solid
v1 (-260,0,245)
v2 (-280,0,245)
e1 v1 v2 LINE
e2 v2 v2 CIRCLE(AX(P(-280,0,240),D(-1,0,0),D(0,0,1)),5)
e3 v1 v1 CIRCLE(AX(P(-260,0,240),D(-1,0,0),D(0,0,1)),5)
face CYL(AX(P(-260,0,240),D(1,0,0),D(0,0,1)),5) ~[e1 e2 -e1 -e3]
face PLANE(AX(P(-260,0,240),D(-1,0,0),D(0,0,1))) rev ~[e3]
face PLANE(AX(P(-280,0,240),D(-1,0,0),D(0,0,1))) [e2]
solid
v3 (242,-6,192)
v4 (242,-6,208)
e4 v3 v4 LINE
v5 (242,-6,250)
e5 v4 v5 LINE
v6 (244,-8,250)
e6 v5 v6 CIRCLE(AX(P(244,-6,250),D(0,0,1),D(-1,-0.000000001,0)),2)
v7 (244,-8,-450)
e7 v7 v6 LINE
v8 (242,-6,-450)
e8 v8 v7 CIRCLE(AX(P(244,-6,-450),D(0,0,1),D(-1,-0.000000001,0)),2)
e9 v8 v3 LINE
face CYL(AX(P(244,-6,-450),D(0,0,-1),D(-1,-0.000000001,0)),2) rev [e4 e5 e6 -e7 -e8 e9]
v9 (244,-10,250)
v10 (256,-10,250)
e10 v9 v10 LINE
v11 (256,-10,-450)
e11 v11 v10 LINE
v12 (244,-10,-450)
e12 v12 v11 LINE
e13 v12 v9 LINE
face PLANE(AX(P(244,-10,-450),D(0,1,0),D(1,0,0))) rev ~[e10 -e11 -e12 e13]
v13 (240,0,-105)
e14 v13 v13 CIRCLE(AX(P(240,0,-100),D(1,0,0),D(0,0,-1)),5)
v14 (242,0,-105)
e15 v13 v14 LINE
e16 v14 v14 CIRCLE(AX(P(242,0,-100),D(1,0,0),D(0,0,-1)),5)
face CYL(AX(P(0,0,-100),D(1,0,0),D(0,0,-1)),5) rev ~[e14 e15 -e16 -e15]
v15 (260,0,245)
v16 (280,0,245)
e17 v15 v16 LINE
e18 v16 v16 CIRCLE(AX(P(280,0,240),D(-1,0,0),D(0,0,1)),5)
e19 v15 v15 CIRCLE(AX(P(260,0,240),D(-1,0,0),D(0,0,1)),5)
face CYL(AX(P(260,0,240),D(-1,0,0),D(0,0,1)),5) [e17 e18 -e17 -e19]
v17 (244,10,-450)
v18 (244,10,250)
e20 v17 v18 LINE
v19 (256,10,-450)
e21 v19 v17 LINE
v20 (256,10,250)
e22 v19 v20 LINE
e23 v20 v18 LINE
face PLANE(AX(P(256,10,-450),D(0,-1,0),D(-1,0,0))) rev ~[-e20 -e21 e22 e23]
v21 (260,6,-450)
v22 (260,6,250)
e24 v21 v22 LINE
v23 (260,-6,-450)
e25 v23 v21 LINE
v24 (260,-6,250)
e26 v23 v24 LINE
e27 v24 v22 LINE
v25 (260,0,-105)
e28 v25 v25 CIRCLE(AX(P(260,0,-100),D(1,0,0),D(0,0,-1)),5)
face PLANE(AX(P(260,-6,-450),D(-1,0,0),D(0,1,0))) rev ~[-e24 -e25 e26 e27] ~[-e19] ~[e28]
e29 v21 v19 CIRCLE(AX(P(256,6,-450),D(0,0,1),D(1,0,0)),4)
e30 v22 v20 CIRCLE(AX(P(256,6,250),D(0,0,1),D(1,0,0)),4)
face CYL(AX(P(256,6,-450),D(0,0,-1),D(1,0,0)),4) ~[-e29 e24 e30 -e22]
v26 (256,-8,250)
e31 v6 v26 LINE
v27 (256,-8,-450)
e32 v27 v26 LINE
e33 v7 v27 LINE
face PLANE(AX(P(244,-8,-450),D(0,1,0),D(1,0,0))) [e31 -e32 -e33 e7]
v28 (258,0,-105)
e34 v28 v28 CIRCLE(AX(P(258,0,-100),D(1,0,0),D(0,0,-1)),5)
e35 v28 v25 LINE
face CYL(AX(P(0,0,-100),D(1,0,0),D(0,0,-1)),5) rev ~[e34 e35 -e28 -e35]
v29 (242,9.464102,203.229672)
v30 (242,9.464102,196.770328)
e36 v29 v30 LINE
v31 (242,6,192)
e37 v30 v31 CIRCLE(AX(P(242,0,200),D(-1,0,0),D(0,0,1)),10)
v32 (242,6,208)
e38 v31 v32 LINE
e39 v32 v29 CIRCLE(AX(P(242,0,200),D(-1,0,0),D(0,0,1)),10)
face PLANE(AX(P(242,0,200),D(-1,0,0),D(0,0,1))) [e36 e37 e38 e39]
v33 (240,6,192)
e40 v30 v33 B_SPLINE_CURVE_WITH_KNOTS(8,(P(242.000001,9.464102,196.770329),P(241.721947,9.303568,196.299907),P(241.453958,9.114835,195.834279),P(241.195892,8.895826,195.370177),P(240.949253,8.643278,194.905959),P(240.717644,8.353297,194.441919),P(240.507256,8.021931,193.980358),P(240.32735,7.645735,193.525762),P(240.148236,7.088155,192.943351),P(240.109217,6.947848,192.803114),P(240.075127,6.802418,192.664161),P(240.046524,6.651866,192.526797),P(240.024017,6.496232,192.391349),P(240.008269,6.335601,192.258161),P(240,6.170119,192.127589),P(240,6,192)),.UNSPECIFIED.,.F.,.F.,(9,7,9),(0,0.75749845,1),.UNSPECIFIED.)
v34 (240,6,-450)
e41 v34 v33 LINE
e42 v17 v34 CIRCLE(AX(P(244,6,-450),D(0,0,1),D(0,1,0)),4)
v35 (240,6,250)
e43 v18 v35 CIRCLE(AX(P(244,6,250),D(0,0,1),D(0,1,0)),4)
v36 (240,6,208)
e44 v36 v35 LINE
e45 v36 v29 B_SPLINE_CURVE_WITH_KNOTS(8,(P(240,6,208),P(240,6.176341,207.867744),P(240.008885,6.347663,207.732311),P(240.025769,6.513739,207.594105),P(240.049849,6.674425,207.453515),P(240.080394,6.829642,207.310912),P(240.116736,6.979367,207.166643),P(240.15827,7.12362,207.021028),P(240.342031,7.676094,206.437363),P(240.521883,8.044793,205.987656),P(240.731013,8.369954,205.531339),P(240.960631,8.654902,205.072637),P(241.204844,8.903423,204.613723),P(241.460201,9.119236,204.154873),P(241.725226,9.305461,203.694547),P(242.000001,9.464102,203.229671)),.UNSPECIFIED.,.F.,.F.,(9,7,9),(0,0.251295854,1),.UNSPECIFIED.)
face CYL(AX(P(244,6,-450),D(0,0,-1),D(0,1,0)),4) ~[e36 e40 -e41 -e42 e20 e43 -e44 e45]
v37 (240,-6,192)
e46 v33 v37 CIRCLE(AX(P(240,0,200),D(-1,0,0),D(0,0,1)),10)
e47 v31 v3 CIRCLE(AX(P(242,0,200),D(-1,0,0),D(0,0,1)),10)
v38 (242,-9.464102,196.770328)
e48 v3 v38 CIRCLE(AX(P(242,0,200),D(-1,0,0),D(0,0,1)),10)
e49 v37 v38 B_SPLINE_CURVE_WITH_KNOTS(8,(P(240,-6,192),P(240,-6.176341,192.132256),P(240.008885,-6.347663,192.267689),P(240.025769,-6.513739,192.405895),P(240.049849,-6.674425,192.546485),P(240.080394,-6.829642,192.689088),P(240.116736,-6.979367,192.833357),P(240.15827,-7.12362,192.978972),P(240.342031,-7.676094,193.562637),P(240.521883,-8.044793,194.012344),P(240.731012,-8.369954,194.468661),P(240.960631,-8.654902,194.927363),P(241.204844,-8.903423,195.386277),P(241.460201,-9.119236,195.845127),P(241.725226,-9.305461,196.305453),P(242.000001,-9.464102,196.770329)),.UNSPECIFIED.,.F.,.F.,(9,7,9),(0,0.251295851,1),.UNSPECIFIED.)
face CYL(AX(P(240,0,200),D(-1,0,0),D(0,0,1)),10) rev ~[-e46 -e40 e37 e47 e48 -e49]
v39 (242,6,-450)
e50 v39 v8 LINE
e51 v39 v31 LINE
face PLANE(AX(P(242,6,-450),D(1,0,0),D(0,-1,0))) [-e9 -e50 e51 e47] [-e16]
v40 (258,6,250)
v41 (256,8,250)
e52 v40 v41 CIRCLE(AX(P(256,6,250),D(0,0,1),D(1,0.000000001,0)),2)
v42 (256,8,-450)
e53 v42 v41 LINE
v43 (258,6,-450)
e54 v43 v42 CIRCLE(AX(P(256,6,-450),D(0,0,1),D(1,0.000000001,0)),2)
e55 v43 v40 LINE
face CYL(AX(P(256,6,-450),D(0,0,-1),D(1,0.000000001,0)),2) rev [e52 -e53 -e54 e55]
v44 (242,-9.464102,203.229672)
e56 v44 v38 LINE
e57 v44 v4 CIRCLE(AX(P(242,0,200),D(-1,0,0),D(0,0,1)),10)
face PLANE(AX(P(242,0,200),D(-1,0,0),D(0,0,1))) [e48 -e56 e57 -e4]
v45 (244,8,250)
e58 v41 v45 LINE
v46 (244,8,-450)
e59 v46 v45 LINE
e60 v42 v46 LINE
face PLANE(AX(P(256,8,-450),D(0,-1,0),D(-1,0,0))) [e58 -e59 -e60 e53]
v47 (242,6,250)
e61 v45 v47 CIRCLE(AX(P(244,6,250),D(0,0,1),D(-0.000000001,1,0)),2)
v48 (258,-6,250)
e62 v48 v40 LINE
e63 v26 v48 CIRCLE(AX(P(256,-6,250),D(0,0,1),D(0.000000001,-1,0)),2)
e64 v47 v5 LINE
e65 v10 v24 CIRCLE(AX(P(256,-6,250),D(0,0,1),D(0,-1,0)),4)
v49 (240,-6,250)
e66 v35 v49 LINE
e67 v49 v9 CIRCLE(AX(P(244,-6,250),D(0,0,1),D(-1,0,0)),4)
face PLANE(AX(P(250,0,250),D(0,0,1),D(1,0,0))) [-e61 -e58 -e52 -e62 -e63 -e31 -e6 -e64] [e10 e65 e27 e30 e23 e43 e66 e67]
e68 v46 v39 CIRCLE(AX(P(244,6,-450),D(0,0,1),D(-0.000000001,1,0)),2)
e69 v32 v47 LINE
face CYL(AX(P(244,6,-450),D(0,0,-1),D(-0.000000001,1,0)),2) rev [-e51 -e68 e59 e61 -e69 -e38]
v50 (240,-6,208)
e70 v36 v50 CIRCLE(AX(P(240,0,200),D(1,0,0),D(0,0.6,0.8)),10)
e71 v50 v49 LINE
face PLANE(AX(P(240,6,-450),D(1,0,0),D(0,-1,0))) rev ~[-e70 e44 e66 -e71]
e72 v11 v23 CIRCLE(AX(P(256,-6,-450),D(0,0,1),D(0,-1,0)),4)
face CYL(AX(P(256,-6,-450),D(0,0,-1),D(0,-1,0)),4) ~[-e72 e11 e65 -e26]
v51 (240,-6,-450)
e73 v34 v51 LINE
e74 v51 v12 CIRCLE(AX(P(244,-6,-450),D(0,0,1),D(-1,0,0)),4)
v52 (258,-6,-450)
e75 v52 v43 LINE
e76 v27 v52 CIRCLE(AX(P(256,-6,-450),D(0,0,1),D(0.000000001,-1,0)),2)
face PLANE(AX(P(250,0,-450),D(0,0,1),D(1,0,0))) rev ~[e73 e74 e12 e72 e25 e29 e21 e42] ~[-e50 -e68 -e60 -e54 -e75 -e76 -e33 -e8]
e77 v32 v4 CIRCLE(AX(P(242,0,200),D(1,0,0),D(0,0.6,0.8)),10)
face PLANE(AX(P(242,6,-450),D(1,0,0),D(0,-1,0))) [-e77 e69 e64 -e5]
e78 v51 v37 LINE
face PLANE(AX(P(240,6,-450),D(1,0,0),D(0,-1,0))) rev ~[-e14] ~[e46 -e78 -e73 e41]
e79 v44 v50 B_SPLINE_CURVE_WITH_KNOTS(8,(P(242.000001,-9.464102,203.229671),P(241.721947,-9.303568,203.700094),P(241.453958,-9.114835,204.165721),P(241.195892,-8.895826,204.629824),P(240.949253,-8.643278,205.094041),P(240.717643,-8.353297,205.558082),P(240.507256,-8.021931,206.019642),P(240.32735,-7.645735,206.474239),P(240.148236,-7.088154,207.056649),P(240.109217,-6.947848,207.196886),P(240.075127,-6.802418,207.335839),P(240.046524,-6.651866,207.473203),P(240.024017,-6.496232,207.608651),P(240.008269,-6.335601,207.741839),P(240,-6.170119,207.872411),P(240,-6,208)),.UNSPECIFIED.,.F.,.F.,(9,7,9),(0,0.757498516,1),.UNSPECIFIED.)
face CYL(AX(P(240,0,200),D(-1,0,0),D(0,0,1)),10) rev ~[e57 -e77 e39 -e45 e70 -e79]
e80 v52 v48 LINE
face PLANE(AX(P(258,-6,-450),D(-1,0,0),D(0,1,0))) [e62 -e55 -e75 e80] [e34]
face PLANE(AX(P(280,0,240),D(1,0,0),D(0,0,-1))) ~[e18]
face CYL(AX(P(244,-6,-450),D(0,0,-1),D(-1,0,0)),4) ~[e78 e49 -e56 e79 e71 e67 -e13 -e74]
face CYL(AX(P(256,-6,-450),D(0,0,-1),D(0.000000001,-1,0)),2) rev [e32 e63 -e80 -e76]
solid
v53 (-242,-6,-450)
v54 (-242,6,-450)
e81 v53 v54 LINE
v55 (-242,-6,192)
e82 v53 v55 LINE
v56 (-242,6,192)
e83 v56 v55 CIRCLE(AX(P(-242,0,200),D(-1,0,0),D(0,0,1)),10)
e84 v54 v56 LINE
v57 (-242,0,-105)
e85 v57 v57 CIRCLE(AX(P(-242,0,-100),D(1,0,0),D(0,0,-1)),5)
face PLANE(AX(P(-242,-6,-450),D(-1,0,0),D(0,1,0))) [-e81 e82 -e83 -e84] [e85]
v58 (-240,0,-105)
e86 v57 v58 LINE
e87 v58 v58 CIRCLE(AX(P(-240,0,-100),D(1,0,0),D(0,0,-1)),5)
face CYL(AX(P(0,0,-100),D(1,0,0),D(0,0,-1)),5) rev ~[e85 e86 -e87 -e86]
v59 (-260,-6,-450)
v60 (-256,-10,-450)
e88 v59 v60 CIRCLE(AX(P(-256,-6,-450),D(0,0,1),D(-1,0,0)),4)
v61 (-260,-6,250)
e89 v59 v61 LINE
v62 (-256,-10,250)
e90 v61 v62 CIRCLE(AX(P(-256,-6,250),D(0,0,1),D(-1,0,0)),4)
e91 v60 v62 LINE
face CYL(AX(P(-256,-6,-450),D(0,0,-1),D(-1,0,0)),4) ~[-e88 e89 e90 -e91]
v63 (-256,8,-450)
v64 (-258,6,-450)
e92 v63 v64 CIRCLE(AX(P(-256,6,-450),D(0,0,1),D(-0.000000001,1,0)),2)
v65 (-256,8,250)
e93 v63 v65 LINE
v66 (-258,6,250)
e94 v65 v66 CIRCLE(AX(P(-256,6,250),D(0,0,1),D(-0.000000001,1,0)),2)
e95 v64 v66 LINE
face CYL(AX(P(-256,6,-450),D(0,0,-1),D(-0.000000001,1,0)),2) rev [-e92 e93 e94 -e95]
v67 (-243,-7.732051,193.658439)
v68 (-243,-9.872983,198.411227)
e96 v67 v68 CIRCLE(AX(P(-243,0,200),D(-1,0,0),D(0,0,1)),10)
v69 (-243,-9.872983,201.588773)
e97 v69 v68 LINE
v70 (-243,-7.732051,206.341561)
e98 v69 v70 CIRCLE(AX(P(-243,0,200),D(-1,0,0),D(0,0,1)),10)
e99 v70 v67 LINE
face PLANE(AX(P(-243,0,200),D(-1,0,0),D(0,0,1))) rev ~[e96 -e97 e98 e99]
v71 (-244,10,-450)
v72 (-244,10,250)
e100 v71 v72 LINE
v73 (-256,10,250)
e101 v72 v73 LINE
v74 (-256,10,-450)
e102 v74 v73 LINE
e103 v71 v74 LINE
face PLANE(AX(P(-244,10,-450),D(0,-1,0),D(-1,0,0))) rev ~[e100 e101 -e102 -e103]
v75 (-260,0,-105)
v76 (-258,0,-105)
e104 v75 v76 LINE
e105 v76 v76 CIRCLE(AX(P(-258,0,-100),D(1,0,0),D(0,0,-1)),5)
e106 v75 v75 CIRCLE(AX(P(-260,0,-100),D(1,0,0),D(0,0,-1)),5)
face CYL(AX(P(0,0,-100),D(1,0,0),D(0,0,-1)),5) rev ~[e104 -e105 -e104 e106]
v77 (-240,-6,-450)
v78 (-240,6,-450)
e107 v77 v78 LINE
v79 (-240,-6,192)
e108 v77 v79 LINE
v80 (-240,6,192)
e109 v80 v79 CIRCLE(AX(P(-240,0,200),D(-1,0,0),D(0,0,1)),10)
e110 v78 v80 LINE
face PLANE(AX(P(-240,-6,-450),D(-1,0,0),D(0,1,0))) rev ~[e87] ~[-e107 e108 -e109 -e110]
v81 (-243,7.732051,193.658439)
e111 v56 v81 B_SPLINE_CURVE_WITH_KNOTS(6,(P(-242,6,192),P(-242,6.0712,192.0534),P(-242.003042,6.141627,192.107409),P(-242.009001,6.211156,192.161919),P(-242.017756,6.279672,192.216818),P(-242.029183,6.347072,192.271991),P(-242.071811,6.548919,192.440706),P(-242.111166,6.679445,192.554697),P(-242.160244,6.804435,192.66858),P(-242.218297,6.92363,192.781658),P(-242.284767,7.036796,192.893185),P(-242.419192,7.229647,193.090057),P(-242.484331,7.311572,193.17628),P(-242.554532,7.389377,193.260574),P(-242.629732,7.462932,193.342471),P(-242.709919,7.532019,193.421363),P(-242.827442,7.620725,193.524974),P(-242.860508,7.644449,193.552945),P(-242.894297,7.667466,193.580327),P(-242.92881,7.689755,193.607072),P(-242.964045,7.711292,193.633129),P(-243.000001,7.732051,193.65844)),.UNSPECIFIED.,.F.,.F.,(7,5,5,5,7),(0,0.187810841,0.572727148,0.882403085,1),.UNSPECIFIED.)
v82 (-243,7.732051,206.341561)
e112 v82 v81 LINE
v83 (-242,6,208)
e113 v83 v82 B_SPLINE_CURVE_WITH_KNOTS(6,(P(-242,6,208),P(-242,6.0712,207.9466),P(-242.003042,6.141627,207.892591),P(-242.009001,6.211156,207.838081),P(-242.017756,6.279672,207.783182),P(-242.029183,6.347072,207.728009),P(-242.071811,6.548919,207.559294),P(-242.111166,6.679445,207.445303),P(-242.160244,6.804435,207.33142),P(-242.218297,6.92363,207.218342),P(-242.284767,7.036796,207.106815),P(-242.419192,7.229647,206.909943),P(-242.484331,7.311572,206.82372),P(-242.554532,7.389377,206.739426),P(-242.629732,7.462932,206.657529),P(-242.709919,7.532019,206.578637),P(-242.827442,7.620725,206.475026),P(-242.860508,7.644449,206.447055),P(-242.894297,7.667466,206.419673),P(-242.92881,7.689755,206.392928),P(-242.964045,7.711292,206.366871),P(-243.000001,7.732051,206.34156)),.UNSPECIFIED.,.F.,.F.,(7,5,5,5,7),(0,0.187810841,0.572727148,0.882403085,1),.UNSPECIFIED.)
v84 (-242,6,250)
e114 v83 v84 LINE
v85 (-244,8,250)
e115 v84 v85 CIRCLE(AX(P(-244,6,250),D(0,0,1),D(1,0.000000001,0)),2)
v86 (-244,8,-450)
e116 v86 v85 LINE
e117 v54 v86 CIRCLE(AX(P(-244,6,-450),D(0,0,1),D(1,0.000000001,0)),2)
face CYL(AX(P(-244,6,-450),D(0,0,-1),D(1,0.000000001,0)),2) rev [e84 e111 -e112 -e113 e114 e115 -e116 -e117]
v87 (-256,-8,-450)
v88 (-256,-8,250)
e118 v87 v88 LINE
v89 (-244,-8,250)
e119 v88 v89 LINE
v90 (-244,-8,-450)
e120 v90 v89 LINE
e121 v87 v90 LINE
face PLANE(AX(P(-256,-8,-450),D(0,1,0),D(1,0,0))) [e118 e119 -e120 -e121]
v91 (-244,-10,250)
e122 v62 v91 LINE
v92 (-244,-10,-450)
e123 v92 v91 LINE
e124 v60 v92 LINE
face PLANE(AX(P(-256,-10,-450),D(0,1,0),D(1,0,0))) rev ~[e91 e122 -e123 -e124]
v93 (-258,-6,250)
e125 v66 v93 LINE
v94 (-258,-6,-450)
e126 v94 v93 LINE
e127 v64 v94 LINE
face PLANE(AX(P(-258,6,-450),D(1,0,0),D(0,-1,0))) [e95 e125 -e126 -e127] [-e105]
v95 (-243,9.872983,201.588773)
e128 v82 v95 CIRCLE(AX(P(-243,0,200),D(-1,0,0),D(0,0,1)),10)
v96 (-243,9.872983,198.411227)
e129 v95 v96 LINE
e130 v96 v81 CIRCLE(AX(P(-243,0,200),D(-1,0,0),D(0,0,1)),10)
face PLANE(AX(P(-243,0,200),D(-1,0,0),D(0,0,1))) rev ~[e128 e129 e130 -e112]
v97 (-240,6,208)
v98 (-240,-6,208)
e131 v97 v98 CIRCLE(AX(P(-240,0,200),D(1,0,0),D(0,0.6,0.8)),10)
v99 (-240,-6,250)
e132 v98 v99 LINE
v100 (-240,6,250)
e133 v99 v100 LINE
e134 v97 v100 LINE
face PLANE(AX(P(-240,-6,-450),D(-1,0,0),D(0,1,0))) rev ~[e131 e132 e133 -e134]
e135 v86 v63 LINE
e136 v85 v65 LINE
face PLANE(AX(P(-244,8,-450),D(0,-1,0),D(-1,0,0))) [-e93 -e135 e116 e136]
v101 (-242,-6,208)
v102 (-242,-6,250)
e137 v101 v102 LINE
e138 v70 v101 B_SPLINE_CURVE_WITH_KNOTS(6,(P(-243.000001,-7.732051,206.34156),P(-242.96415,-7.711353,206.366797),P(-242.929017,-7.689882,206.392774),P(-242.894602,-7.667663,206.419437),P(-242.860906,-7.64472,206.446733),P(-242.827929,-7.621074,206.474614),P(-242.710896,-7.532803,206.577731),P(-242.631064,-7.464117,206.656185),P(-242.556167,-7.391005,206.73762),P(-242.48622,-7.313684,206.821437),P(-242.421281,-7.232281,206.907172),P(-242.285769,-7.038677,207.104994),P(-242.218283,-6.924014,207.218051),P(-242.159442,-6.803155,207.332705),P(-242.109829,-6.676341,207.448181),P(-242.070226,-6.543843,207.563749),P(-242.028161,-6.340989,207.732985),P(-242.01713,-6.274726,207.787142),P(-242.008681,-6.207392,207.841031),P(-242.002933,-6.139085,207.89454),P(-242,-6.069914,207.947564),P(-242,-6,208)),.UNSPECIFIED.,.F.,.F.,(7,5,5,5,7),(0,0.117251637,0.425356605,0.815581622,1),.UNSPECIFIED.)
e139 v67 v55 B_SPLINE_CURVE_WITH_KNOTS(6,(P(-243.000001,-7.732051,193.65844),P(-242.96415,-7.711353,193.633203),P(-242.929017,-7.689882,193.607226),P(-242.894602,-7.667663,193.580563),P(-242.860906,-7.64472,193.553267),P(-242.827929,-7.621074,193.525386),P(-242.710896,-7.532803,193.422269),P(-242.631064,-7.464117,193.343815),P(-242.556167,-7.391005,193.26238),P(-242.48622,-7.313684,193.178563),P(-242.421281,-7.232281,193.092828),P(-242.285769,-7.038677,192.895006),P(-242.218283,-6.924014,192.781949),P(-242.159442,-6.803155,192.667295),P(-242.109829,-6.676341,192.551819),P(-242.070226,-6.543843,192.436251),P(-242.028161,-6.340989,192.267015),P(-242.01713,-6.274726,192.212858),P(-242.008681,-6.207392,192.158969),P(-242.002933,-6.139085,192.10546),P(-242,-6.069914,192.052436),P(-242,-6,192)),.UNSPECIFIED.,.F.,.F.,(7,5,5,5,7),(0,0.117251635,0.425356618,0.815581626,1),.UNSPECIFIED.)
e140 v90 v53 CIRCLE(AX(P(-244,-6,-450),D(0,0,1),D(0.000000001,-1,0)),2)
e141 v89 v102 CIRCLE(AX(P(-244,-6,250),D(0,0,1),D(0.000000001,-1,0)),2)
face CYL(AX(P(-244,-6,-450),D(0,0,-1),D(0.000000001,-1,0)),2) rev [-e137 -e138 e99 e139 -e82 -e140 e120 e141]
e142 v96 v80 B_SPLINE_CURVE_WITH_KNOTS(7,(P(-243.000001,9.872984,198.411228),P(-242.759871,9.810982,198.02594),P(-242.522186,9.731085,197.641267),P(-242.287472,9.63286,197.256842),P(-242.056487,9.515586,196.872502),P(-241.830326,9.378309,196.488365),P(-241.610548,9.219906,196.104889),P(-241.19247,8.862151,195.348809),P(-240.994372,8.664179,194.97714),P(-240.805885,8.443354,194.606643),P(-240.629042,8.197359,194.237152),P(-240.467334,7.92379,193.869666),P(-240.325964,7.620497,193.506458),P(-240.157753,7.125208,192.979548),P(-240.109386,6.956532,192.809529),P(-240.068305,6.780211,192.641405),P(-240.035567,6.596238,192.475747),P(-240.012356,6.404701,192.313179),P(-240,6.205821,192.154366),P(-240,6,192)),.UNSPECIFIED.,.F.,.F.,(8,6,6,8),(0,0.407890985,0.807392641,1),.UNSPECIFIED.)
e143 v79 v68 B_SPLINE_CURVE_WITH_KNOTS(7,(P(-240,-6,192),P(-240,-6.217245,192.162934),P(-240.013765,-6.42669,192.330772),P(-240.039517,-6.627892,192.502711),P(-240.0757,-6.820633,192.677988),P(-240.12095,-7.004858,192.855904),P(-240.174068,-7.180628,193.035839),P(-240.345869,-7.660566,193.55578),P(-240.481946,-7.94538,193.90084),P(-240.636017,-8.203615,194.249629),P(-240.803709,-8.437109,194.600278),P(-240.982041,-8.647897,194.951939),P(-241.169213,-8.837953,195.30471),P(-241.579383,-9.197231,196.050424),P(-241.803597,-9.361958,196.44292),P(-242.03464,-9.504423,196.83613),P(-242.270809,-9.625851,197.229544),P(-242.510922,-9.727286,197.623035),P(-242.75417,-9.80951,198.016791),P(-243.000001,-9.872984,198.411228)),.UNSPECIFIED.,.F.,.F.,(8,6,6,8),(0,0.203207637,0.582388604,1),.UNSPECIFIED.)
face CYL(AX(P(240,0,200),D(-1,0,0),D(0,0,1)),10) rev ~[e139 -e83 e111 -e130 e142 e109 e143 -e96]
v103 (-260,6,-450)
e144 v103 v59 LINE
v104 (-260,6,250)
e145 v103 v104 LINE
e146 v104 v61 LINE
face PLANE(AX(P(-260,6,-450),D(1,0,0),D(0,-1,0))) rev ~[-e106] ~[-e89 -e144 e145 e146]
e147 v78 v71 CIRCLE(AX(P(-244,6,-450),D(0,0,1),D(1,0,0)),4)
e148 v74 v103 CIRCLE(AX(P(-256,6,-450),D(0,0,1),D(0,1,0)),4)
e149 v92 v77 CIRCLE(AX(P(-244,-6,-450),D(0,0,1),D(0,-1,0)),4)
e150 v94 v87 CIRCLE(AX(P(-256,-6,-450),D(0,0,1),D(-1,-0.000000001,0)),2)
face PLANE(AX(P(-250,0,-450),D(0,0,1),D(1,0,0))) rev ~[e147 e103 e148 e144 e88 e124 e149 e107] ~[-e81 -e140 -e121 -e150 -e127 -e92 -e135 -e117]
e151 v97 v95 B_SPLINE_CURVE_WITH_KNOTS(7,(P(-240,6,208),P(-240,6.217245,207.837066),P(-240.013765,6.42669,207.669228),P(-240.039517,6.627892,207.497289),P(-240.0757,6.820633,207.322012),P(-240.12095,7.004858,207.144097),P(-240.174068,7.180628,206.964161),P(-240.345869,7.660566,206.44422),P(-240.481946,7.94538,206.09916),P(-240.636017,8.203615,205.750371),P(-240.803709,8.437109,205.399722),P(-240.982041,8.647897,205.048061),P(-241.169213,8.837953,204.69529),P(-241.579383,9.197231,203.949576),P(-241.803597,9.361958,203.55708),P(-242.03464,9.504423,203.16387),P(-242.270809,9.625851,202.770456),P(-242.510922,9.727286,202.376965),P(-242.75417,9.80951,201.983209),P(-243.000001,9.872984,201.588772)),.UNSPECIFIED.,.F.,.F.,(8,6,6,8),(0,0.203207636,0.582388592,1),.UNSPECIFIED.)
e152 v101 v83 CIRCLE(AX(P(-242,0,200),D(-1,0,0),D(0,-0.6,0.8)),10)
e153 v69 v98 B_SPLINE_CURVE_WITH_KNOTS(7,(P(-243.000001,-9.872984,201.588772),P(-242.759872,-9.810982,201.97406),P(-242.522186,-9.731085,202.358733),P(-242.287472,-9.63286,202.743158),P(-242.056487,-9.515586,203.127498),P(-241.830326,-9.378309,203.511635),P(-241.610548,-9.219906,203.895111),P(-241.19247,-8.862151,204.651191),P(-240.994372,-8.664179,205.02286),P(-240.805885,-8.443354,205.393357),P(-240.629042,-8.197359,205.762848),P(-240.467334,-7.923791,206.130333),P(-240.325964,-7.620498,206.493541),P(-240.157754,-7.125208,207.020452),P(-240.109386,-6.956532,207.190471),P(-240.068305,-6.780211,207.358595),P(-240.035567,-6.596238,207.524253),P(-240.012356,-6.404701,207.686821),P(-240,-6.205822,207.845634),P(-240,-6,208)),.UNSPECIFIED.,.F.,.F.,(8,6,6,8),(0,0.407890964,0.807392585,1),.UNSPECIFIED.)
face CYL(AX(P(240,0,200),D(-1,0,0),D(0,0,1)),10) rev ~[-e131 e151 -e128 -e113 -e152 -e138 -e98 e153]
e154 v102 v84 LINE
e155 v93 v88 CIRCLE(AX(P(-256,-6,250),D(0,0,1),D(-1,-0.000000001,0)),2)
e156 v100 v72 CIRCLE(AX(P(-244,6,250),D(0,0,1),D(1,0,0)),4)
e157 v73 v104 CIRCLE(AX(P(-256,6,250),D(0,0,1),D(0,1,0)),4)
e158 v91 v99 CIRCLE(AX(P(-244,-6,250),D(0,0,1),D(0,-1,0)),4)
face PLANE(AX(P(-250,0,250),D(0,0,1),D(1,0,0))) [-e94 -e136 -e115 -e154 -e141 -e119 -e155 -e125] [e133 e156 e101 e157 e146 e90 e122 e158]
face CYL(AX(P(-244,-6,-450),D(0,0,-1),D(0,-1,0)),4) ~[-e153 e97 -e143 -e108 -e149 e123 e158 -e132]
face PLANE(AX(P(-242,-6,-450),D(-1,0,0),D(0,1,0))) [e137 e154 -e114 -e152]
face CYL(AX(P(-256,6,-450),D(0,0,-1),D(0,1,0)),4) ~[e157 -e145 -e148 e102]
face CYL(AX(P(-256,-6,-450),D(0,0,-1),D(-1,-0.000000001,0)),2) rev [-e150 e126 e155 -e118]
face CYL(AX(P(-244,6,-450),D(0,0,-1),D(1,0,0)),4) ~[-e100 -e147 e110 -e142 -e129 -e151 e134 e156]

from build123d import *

# Parameters (mm, degrees)
SQUARE_TUBE_CONFIGURED_20_X_20_X_2_1_DEPTH   = 700
SQUARE_TUBE_CONFIGURED_20_X_20_X_2_1_2_DEPTH = 700
SKETCH15_R                                   = 5
CUT_EXTRUDE1_DEPTH                           = 520.807656735
CUT_EXTRUDE1_DEPTH_BACK                      = 520.807656735
SKETCH16_R                                   = 5
BOSS_EXTRUDE2_DEPTH                          = 20
SKETCH13_R                                   = 10
CUT_EXTRUDE3_DEPTH                           = 483
CUT_EXTRUDE3_DEPTH_BACK                      = 2


with BuildPart() as part:
    # Sketch111 → Square tube - configured 20 X 20 X 2(1) (new body)
    with BuildSketch(Plane(origin=(-250, 0, -450), x_dir=(1, 0, 0), z_dir=(0, 0, 1))):
        with BuildLine():
            Line((-6, -10), (6, -10))
            ThreePointArc((6, -10), (8.828427125, -8.828427125), (10, -6))
            Line((10, -6), (10, 6))
            ThreePointArc((10, 6), (8.828427125, 8.828427125), (6, 10))
            Line((6, 10), (-6, 10))
            ThreePointArc((-6, 10), (-8.828427125, 8.828427125), (-10, 6))
            Line((-10, 6), (-10, -6))
            ThreePointArc((-10, -6), (-8.828427125, -8.828427125), (-6, -10))
        make_face()
        with BuildLine():
            Line((-6, -8), (6, -8))
            ThreePointArc((6, -8), (7.414213562, -7.414213562), (8, -6))
            Line((8, -6), (8, 6))
            ThreePointArc((8, 6), (7.414213562, 7.414213562), (6, 8))
            Line((6, 8), (-6, 8))
            ThreePointArc((-6, 8), (-7.414213562, 7.414213562), (-8, 6))
            Line((-8, 6), (-8, -6))
            ThreePointArc((-8, -6), (-7.414213562, -7.414213562), (-6, -8))
        make_face(mode=Mode.SUBTRACT)
    extrude(amount=SQUARE_TUBE_CONFIGURED_20_X_20_X_2_1_DEPTH)


with BuildPart() as body_2:
    # Sketch111 on segment 2 (carried to segment 2) → Square tube - configured 20 X 20 X 2_1 2 (new body)
    with BuildSketch(Plane(origin=(250, 0, -450), x_dir=(1, 0, 0), z_dir=(0, 0, 1))):
        with BuildLine():
            Line((-6, -10), (6, -10))
            ThreePointArc((6, -10), (8.828427125, -8.828427125), (10, -6))
            Line((10, -6), (10, 6))
            ThreePointArc((10, 6), (8.828427125, 8.828427125), (6, 10))
            Line((6, 10), (-6, 10))
            ThreePointArc((-6, 10), (-8.828427125, 8.828427125), (-10, 6))
            Line((-10, 6), (-10, -6))
            ThreePointArc((-10, -6), (-8.828427125, -8.828427125), (-6, -10))
        make_face()
        with BuildLine():
            Line((-6, -8), (6, -8))
            ThreePointArc((6, -8), (7.414213562, -7.414213562), (8, -6))
            Line((8, -6), (8, 6))
            ThreePointArc((8, 6), (7.414213562, 7.414213562), (6, 8))
            Line((6, 8), (-6, 8))
            ThreePointArc((-6, 8), (-7.414213562, 7.414213562), (-8, 6))
            Line((-8, 6), (-8, -6))
            ThreePointArc((-8, -6), (-7.414213562, -7.414213562), (-6, -8))
        make_face(mode=Mode.SUBTRACT)
    extrude(amount=SQUARE_TUBE_CONFIGURED_20_X_20_X_2_1_2_DEPTH)


with BuildPart() as cut_extrude1_tool:
    # Sketch15 → Cut-Extrude1 (new, two sides)
    with BuildSketch(Plane(origin=(0, 0, 0), x_dir=(0, 0, -1), z_dir=(1, 0, 0))) as cut_extrude1_sk:
        with Locations((100, 0)):
            Circle(SKETCH15_R)
    extrude(amount=CUT_EXTRUDE1_DEPTH)
    extrude(cut_extrude1_sk.sketch, amount=-CUT_EXTRUDE1_DEPTH_BACK)


with BuildPart() as part_1:
    add(part.part)

    # Cut-Extrude1: cut by cut_extrude1_tool
    add(cut_extrude1_tool.part, mode=Mode.SUBTRACT)


with BuildPart() as body_2_1:
    add(body_2.part)

    # Cut-Extrude1: cut by cut_extrude1_tool
    add(cut_extrude1_tool.part, mode=Mode.SUBTRACT)


with BuildPart() as body_3:
    # Sketch16 → Boss-Extrude2 (new body)
    with BuildSketch(Plane.ZY.offset(260)):
        with Locations((240, 0)):
            Circle(SKETCH16_R)
    boss_extrude2 = extrude(amount=BOSS_EXTRUDE2_DEPTH)


with BuildPart() as body_2_2:
    add(body_2_1.part)

    # Mirror2: Boss-Extrude2 across plane
    add(boss_extrude2.mirror(Plane(origin=(0, 0, 0), x_dir=(0, 0, 1), z_dir=(1, 0, 0))))


with BuildPart() as cut_extrude3_tool:
    # Sketch13 → Cut-Extrude3 (new, two sides)
    with BuildSketch(Plane.ZY.offset(-240)) as cut_extrude3_sk:
        with Locations((200, 0)):
            Circle(SKETCH13_R)
    extrude(amount=CUT_EXTRUDE3_DEPTH)
    extrude(cut_extrude3_sk.sketch, amount=-CUT_EXTRUDE3_DEPTH_BACK)


with BuildPart() as part_2:
    add(part_1.part)

    # Cut-Extrude3: cut by cut_extrude3_tool
    add(cut_extrude3_tool.part, mode=Mode.SUBTRACT)


with BuildPart() as body_2_3:
    add(body_2_2.part)

    # Cut-Extrude3: cut by cut_extrude3_tool
    add(cut_extrude3_tool.part, mode=Mode.SUBTRACT)


solid = Compound([body_3.part, part_2.part, body_2_3.part])
